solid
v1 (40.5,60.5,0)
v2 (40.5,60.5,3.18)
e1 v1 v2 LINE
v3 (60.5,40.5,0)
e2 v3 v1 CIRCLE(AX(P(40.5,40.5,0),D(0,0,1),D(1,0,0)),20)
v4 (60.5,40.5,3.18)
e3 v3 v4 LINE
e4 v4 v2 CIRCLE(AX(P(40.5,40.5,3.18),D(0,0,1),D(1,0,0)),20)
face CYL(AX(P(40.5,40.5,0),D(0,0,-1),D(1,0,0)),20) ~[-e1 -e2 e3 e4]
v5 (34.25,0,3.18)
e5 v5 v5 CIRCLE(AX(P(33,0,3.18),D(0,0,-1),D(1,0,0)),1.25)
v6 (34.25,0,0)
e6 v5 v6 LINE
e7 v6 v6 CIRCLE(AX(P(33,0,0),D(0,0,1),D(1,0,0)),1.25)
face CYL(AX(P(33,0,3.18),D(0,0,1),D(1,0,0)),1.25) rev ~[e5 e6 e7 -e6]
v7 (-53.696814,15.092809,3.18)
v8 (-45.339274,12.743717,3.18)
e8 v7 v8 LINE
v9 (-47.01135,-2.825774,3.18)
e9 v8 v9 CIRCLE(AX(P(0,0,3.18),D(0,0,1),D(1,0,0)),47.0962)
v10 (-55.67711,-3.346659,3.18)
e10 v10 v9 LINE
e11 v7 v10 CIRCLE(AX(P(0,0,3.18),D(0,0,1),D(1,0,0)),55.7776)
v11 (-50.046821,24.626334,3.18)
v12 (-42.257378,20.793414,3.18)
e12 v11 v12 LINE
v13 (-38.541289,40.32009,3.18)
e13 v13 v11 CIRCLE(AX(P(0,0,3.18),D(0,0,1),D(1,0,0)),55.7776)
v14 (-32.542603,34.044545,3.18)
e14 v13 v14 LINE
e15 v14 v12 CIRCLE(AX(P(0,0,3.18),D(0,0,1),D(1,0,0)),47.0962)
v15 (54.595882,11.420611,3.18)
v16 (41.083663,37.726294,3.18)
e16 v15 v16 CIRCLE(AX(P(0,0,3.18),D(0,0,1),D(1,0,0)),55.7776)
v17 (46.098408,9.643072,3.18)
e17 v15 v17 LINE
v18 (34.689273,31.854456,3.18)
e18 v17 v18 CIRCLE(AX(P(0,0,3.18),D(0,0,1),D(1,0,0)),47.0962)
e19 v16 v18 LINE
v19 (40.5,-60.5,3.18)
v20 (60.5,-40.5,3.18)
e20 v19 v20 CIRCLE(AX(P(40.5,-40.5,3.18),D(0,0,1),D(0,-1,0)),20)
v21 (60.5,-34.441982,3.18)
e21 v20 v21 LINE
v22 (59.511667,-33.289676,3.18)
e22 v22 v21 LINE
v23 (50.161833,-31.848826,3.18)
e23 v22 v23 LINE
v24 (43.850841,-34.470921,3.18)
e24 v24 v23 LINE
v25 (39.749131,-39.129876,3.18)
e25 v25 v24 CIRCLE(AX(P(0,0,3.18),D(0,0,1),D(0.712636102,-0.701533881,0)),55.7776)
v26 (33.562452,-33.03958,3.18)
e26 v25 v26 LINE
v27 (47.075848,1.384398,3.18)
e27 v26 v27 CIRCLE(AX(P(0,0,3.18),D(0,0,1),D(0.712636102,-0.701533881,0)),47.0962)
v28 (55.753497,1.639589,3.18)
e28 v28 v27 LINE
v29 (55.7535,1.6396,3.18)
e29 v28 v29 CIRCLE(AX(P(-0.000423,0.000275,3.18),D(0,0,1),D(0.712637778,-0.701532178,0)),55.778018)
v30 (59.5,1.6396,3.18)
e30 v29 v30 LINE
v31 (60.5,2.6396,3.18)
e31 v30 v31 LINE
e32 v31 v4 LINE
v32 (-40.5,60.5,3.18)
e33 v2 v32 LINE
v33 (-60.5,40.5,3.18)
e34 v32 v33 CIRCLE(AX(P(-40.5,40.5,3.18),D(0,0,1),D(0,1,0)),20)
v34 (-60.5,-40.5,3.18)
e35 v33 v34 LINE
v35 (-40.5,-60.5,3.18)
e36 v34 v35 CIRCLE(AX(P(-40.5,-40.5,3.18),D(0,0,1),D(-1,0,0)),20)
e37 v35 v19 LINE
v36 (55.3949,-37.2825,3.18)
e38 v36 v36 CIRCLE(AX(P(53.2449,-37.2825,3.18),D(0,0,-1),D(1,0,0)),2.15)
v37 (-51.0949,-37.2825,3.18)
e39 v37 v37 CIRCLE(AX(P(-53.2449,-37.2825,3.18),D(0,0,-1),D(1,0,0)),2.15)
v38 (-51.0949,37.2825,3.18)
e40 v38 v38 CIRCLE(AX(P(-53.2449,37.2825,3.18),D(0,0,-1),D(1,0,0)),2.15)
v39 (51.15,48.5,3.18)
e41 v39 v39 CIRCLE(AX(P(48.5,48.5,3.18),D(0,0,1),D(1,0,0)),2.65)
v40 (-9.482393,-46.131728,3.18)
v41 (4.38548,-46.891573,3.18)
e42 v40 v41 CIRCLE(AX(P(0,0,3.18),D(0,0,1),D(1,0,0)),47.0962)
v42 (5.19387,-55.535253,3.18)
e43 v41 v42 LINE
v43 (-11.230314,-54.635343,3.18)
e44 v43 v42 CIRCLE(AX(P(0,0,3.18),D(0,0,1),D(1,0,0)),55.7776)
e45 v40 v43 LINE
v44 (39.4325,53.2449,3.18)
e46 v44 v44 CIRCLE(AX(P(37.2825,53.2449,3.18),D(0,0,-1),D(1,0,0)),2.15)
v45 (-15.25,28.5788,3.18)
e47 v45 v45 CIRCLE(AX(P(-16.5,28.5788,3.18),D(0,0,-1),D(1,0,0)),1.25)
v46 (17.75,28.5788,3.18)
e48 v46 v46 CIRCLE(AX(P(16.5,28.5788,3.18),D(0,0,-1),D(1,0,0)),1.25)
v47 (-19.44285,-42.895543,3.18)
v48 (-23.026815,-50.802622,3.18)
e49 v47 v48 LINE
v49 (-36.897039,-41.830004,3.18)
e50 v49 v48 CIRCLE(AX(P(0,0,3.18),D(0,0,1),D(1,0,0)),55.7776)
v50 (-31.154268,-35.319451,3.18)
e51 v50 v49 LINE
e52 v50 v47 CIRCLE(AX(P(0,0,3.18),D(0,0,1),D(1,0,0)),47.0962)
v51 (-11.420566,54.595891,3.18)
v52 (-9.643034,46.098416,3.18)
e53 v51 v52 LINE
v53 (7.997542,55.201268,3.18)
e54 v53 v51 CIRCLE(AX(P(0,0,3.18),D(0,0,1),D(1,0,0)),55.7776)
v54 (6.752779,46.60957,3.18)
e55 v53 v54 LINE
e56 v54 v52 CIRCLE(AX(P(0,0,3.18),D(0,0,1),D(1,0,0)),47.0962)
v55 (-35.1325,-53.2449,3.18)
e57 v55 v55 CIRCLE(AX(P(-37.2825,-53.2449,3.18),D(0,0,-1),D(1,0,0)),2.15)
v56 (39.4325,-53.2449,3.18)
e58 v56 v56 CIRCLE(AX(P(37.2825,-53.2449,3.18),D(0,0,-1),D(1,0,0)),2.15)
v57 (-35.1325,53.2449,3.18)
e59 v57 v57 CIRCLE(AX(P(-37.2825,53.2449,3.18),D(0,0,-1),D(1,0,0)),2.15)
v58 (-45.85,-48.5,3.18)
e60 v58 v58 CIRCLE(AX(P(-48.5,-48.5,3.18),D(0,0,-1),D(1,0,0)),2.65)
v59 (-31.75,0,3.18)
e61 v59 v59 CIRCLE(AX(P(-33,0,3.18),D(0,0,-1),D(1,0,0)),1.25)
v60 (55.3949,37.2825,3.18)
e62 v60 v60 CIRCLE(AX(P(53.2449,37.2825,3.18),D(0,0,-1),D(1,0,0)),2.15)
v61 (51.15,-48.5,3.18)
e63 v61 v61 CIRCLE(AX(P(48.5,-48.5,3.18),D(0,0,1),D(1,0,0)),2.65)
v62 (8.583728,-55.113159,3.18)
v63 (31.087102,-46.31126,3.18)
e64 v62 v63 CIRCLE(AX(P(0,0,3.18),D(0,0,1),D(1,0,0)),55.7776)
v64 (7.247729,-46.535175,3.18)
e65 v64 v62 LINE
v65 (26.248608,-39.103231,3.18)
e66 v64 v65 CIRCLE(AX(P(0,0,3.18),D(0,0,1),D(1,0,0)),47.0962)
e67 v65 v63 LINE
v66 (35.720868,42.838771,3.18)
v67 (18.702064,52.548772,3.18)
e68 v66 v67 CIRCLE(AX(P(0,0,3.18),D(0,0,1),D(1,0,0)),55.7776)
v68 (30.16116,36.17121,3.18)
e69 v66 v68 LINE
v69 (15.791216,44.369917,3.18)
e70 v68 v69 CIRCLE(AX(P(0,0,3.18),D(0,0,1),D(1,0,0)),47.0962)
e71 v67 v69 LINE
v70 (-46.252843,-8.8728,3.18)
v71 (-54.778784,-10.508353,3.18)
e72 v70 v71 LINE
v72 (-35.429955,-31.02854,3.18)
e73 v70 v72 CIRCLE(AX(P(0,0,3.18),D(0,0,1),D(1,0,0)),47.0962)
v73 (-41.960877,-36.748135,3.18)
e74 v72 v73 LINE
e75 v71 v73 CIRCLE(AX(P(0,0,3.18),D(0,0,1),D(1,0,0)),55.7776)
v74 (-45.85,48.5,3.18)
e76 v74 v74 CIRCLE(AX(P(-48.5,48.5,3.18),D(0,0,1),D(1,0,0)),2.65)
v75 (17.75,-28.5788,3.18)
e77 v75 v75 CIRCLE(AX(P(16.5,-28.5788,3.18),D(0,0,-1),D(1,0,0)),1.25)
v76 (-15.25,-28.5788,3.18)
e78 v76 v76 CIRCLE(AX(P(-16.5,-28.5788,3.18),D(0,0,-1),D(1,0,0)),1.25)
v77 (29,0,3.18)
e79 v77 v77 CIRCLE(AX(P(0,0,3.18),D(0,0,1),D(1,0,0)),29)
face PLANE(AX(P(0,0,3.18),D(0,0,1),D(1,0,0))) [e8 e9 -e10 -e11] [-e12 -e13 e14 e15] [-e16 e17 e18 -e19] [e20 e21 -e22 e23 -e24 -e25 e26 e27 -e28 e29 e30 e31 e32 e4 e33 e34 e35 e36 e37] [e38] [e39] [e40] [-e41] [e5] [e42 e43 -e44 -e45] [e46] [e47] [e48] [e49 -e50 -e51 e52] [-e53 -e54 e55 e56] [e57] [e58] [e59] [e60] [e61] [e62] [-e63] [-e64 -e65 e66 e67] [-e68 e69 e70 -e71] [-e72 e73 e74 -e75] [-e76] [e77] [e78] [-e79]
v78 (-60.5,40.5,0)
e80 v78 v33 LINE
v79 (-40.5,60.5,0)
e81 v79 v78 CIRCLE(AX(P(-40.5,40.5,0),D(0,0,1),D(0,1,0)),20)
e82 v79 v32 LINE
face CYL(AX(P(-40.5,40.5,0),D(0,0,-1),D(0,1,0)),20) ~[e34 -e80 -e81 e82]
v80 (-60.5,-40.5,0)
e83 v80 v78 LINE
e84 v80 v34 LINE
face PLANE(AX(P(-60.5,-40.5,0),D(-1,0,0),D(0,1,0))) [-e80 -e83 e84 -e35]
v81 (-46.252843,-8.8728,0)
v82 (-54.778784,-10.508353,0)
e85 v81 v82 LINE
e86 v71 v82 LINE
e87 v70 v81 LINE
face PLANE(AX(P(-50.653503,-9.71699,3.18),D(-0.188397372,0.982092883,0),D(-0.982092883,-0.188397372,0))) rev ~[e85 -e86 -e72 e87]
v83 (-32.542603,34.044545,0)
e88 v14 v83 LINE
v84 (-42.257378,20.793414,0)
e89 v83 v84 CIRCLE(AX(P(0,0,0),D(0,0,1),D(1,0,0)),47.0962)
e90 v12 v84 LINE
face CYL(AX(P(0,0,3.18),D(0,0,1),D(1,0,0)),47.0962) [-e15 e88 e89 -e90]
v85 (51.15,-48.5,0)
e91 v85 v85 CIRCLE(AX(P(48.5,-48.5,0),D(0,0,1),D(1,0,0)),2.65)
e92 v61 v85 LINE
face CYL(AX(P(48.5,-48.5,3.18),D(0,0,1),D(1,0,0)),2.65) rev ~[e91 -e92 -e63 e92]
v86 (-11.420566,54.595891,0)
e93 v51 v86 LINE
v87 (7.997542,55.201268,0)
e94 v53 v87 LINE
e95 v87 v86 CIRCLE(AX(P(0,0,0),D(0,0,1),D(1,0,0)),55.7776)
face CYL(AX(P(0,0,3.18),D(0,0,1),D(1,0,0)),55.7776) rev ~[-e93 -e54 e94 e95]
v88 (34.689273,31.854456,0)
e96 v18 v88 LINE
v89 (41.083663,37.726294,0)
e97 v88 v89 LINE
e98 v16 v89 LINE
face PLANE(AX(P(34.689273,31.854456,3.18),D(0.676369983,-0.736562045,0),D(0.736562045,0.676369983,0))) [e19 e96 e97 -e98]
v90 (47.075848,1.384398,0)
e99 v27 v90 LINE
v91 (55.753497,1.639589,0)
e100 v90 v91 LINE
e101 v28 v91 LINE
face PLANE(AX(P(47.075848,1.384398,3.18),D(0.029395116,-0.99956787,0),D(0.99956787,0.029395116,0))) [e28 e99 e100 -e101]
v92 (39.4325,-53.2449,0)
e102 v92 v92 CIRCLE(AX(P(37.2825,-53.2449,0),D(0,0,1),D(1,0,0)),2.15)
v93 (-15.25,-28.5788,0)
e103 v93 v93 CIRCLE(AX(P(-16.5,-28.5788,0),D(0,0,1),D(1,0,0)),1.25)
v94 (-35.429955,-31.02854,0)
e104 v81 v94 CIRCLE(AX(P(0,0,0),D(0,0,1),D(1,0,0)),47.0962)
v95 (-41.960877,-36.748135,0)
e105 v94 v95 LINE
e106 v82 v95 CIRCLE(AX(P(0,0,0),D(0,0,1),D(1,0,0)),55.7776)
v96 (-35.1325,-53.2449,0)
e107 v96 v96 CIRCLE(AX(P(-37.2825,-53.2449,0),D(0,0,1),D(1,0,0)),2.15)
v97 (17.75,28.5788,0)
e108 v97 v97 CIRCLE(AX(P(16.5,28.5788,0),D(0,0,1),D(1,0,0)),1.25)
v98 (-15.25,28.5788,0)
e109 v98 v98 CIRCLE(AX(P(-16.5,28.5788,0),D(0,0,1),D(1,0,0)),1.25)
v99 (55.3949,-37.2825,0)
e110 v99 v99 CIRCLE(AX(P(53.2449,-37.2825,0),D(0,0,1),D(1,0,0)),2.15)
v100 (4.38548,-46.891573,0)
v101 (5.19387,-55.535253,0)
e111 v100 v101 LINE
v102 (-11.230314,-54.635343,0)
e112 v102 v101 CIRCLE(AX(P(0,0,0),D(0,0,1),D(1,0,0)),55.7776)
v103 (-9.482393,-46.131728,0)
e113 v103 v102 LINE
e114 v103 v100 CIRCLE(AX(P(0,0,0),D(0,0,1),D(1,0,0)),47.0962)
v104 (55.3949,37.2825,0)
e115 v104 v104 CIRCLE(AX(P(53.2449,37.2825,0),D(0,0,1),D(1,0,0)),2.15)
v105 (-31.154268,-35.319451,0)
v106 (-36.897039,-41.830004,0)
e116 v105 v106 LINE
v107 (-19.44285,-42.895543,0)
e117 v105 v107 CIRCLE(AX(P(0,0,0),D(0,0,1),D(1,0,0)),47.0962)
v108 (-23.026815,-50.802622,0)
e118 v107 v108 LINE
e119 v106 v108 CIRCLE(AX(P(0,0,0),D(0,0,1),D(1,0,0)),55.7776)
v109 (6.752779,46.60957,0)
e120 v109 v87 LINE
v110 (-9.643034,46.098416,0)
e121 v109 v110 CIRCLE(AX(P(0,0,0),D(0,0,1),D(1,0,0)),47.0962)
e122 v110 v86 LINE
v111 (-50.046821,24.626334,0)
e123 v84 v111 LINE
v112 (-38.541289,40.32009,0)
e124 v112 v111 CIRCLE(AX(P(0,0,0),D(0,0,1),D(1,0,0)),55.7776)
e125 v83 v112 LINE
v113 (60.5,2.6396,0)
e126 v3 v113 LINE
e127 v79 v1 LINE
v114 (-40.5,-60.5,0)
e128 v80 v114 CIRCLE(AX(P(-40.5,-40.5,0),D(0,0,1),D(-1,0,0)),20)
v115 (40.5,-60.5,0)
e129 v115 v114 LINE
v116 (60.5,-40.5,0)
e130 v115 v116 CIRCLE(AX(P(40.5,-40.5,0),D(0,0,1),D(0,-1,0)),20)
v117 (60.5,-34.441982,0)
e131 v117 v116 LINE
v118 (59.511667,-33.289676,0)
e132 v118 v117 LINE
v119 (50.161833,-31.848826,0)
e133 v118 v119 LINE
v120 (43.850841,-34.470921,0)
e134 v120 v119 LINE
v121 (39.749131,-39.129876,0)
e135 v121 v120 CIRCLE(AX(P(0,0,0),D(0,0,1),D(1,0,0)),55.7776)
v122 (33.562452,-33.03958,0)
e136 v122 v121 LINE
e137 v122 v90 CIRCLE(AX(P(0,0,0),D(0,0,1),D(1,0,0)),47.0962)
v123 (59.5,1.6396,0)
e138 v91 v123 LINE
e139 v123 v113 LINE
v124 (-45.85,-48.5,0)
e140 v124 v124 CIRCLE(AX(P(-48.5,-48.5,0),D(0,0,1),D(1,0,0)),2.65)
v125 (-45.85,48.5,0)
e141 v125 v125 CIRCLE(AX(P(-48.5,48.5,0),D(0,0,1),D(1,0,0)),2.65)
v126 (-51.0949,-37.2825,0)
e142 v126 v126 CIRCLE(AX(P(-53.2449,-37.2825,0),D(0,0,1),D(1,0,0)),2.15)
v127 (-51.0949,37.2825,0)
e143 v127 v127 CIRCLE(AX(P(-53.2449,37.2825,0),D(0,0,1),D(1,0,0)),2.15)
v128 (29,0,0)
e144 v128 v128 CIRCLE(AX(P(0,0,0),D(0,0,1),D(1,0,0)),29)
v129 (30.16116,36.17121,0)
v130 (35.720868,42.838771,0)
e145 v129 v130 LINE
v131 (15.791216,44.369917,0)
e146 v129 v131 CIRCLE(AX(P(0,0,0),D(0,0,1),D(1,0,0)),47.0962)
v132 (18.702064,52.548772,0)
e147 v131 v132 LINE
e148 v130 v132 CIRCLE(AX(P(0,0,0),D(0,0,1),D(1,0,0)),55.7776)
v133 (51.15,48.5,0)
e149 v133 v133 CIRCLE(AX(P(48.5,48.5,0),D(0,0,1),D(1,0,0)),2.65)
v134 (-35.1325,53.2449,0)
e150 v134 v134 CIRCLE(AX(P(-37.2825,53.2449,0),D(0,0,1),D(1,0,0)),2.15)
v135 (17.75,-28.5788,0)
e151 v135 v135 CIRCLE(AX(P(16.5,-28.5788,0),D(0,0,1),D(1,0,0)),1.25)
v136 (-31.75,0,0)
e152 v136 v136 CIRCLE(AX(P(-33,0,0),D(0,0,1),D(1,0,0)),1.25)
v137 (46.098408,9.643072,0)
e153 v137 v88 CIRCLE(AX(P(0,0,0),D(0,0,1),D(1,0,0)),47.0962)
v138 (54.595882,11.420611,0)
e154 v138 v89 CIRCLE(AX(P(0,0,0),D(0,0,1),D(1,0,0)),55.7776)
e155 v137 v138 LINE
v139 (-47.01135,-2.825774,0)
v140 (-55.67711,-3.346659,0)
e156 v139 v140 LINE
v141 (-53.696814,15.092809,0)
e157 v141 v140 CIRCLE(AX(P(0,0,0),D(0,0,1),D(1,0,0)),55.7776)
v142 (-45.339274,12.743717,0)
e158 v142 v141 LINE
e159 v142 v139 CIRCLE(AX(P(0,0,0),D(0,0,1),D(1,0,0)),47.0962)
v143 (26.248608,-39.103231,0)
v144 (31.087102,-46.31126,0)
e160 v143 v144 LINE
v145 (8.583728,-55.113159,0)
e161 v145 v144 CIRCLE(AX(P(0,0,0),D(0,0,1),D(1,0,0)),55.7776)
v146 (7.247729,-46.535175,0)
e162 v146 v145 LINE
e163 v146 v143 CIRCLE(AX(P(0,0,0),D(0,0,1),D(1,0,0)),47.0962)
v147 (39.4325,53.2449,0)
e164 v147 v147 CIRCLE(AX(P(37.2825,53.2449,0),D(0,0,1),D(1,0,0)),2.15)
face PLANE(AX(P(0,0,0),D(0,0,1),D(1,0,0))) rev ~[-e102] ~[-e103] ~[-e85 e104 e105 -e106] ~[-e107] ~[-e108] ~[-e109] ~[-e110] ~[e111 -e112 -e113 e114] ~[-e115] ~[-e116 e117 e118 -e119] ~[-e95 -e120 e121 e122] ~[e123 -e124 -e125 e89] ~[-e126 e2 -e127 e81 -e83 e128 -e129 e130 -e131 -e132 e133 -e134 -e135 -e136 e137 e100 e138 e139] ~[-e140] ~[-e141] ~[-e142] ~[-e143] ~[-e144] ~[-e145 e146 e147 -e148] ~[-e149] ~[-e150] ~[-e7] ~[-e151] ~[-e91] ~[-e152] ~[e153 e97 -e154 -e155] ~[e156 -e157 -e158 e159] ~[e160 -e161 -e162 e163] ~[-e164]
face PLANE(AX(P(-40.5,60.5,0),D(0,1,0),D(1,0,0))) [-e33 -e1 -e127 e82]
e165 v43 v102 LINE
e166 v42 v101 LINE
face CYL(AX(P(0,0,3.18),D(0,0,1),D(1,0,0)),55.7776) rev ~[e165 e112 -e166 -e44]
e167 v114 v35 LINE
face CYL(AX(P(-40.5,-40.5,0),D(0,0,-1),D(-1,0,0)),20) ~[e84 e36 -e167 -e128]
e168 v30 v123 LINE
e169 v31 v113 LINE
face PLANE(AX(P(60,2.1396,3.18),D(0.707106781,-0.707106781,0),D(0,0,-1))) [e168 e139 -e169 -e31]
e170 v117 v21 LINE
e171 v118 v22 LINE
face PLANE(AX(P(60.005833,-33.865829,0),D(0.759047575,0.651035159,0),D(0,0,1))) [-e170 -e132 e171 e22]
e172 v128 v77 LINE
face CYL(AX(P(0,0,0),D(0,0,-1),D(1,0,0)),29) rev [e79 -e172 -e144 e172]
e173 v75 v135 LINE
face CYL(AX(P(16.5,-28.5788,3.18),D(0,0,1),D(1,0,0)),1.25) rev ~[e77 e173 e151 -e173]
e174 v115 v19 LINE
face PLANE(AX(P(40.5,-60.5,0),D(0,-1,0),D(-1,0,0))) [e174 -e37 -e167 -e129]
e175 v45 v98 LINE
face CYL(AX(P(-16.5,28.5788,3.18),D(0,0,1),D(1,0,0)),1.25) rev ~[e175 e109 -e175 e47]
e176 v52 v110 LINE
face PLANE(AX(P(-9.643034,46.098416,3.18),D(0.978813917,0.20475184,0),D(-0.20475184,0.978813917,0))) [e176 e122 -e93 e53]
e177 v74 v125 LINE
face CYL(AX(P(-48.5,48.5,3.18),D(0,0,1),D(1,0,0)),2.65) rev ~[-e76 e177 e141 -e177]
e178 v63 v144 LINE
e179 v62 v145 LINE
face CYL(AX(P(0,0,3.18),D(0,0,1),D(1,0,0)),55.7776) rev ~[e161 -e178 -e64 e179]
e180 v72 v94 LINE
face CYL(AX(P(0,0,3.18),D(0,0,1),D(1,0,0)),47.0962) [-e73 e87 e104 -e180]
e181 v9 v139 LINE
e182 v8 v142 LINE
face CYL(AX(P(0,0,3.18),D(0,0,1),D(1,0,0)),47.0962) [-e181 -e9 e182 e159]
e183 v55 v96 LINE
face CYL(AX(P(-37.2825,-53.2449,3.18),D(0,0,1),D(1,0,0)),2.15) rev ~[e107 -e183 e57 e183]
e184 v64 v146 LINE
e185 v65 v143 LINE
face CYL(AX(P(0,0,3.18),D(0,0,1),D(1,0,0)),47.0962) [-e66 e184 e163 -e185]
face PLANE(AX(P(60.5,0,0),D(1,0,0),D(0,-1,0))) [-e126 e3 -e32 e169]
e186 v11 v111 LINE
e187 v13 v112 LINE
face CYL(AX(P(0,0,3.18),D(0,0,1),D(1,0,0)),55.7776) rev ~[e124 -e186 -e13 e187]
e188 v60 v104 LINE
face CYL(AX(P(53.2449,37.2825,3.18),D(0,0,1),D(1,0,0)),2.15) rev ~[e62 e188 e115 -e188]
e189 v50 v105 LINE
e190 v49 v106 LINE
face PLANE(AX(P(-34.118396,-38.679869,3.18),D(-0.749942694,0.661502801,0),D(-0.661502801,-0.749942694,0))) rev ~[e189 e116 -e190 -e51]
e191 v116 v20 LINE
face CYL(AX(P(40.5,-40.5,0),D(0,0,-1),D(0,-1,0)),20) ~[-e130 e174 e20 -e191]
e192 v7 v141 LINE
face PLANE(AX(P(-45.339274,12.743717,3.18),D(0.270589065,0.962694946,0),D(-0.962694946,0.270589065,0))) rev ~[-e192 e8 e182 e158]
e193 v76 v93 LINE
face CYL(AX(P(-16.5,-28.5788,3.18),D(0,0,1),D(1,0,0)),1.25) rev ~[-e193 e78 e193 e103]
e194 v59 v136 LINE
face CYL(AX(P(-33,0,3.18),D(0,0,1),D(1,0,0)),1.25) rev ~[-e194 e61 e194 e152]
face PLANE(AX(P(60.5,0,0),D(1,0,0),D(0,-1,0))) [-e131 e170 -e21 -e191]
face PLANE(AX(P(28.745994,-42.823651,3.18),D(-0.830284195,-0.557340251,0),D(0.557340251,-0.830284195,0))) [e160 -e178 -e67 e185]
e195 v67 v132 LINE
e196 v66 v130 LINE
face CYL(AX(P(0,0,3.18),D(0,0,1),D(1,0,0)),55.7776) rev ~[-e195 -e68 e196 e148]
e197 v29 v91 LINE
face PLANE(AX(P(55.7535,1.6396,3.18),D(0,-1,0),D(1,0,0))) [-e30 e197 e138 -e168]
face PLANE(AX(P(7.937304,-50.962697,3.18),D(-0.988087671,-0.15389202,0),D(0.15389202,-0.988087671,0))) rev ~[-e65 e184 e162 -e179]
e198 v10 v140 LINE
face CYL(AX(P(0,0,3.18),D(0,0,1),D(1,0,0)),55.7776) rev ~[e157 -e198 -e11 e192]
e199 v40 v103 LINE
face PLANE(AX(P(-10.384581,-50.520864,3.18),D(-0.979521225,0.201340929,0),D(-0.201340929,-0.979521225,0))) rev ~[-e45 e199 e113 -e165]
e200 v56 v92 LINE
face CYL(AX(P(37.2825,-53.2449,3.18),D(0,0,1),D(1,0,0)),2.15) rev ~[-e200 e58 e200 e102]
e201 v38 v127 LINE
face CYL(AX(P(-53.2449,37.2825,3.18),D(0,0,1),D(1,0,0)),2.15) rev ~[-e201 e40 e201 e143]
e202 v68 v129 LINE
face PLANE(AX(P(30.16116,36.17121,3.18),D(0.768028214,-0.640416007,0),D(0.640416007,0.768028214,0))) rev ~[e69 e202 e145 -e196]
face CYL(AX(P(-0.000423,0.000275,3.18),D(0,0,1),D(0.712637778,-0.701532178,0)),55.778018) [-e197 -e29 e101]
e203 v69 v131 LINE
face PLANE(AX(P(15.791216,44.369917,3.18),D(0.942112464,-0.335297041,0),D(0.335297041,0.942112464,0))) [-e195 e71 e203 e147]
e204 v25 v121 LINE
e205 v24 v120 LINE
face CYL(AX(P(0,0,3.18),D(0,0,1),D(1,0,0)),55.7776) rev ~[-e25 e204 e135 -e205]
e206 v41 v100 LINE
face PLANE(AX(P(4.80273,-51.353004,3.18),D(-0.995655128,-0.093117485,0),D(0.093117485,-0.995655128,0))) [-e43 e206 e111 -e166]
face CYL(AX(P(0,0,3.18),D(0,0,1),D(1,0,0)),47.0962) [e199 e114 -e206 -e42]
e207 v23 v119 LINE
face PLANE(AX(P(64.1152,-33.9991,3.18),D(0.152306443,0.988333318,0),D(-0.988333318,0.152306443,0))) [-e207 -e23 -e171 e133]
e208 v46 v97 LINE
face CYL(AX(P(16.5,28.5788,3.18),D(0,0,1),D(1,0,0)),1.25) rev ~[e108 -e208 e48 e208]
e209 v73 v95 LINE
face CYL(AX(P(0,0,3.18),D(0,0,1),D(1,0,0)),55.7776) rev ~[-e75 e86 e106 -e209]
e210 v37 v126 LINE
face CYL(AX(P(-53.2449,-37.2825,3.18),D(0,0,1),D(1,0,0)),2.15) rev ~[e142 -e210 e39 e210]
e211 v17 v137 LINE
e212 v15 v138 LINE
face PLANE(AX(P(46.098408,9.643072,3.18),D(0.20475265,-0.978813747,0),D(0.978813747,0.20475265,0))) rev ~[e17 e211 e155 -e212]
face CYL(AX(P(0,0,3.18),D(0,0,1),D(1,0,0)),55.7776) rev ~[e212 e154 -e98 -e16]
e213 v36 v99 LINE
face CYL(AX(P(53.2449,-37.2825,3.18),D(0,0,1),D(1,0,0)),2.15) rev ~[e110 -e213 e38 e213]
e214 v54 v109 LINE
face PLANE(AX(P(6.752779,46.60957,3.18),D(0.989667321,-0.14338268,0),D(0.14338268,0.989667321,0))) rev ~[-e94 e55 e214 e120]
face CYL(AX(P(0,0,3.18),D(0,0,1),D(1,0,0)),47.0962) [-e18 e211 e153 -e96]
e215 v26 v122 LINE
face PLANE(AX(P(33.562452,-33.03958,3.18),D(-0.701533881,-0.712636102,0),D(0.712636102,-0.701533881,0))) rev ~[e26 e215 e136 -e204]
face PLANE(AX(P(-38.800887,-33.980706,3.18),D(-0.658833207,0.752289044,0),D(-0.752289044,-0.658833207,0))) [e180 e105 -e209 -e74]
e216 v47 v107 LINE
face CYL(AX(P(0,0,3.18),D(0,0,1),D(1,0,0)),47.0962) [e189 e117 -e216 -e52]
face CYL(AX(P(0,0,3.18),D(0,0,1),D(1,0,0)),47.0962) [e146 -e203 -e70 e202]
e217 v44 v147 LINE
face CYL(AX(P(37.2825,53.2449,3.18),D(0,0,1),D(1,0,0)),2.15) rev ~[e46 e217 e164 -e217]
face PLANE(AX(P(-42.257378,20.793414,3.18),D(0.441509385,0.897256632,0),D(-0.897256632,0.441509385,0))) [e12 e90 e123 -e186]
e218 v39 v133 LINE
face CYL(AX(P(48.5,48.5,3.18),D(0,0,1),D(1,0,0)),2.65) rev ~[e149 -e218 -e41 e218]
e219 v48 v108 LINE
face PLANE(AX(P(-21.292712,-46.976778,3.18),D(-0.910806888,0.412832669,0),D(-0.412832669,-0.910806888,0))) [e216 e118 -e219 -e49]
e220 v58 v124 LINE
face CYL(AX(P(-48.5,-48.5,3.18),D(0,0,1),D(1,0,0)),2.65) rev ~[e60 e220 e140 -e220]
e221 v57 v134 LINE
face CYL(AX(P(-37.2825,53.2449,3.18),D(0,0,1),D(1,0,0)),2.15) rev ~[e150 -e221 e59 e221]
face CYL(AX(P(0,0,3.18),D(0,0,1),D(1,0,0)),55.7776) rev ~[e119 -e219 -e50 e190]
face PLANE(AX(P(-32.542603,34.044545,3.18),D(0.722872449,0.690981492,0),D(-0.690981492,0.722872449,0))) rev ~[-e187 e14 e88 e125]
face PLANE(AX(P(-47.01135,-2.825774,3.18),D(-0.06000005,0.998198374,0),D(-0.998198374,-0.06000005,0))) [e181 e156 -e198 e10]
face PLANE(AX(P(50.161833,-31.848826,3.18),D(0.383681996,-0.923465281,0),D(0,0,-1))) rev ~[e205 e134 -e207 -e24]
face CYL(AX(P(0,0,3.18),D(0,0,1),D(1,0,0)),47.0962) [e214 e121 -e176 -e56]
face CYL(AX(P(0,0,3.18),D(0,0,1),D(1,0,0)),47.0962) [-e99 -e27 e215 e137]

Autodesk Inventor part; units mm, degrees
ref_plane "YZ Plane" through (0, 0, 0) normal (1, 0, 0) x (0, 1, 0)
ref_plane "XZ Plane" through (0, 0, 0) normal (0, 1, 0) x (-1, 0, 0)
ref_plane "XY Plane" through (0, 0, 0) normal (0, 0, 1) x (1, 0, 0)
sketch "Sketch1" plane through (0, 0, 0) normal (0, 0, 1) x (1, 0, 0)
  circle A0 centre (0, 0) radius 29
  circle A1 centre (0, 0) radius 60.5
  line L0 (-40.5, 60.5) -> (40.5, 60.5)
  line L1 (60.5, 40.5) -> (60.5, -40.5)
  line L2 (40.5, -60.5) -> (-40.5, -60.5)
  line L3 (-60.5, -40.5) -> (-60.5, 40.5)
  arc A2 (-40.5, 60.5) -> (-60.5, 40.5) centre (-40.5, 40.5) ccw
  arc A3 (60.5, 40.5) -> (40.5, 60.5) centre (40.5, 40.5) ccw
  arc A4 (40.5, -60.5) -> (60.5, -40.5) centre (40.5, -40.5) ccw
  arc A5 (-60.5, -40.5) -> (-40.5, -60.5) centre (-40.5, -40.5) ccw
  dimension "d0" = 58
  dimension "d1" = 121
  dimension "d2" = 20
extrude "Extrusion1" add sketch "Sketch1" along normal blind 3.18
sketch "Sketch4" plane through (0, 0, 3.18) normal (0, 0, 1) x (1, 0, 0)
  circle A0 centre (0, 0) radius 51.5771
  circle A1 centre (0, 0) radius 43.9861
  circle A2 centre (0, 0) radius 55.7776
  circle A3 centre (0, 0) radius 47.0962
  circle A4 centre (0, 0) radius 42.5777
  circle A5 centre (0, 0) radius 45.3862
  line L0 (0, 0) -> (8.4363, 58.2297)
  line L1 (0, 0) -> (-12.4381, 59.4602)
  line L2 (0, 0) -> (20.1214, 56.5368)
  line L3 (0, 0) -> (38.2622, 45.8865)
  line L4 (0, 0) -> (43.6183, 40.0538)
  line L5 (0, 0) -> (57.1725, 11.9596)
  line L6 (0, 0) -> (57.4745, 1.6902)
  line L7 (0, 0) -> (41.5878, -40.9399)
  line L8 (0, 0) -> (-40.6993, 42.5777)
  line L9 (0, 0) -> (-51.5874, 25.3844)
  line L10 (0, 0) -> (-57.9992, 16.3021)
  line L11 (0, 0) -> (-60.0133, -3.6073)
  line L12 (0, 0) -> (-59.5436, -11.4224)
  line L13 (0, 0) -> (-44.1098, -38.6301)
  line L14 (0, 0) -> (-38.6281, -43.7925)
  line L15 (0, 0) -> (-24.369, -53.7638)
  line L16 (0, 0) -> (-11.9508, -58.1405)
  line L17 (0, 0) -> (5.5489, -59.3314)
  line L18 (0, 0) -> (37.2684, -55.5197)
  line L19 (0, 0) -> (10.7128, -68.7832)
  point P0 (-50.0468, 24.6263)
  point P1 (-42.2573, 20.7934)
  point P2 (-32.5426, 34.0445)
  point P3 (-38.5413, 40.3201)
  point P4 (-55.6771, -3.3466)
  point P5 (-47.0113, -2.8257)
  point P6 (-45.3392, 12.7437)
  point P7 (-53.6968, 15.0928)
  point P8 (-41.9609, -36.7481)
  point P9 (-35.4299, -31.0285)
  point P10 (-46.2528, -8.8728)
  point P11 (-54.7788, -10.5083)
  point P12 (-23.0268, -50.8026)
  point P13 (-19.4428, -42.8955)
  point P14 (-31.1542, -35.3194)
  point P15 (-36.897, -41.83)
  point P16 (5.1939, -55.5352)
  point P17 (4.3855, -46.8915)
  point P18 (-9.4824, -46.1317)
  point P19 (-11.2303, -54.6353)
  point P20 (8.5837, -55.1131)
  point P21 (31.0871, -46.3113)
  point P22 (26.2486, -39.1032)
  point P23 (7.2477, -46.5351)
  point P24 (33.5624, -33.0395)
  point P25 (39.7491, -39.1298)
  point P26 (55.7535, 1.6396)
  point P27 (47.0758, 1.3844)
  point P28 (46.0984, 9.6431)
  point P29 (54.5959, 11.4206)
  point P30 (41.0837, 37.7263)
  point P31 (34.6892, 31.8544)
  point P32 (30.1611, 36.1712)
  point P33 (35.7209, 42.8387)
  point P34 (18.702, 52.5488)
  point P35 (15.7912, 44.3699)
  point P36 (7.9975, 55.2013)
  point P37 (-11.4206, 54.5959)
  point P38 (-9.6431, 46.0984)
  point P39 (6.7528, 46.6095)
  dimension "d76" = 103.1542
  dimension "d78" = 94.1923
extrude "Extrusion4" cut sketch "Sketch4" against normal through all contours A0 L7 A3 L6 | A0 L6 A2 L7 | L5 A3 L4 A0 | A0 L4 A2 L5 | L18 A2 L19 A0 | A0 L19 A3 L18 | L3 A3 L2 A0 | A0 L2 A2 L3 | L17 A2 L16 A0 | A0 L16 A3 L17 | L0 A3 L1 A0 | A0 L1 A2 L0 | L15 A2 L14 A0 | A0 L14 A3 L15 | L8 A3 L9 A0 | A0 L9 A2 L8 | L13 A2 L12 A0 | A0 L12 A3 L13 | L10 A3 L11 A0 | A0 L11 A2 L10
sketch "Sketch5" plane through (0, 0, 3.18) normal (0, 0, 1) x (1, 0, 0)
  circle A0 centre (-48.5, -48.5) radius 2.65
  circle A1 centre (-48.5, 48.5) radius 2.65
  circle A2 centre (48.5, -48.5) radius 2.65
  circle A3 centre (48.5, 48.5) radius 2.65
  circle A4 centre (0, 0) radius 29 projected
  circle A5 centre (0, 0) radius 33
  circle A6 centre (-33, 0) radius 1.25
  circle A7 centre (-16.5, -28.5788) radius 1.25
  circle A8 centre (16.5, -28.5788) radius 1.25
  circle A9 centre (33, 0) radius 1.25
  circle A10 centre (0, 0) radius 65
  line L0 (0, 0) -> (-48.5, -48.5)
  line L1 (0, 0) -> (-46.4652, -66.3592)
  line L2 (0, 0) -> (-57.2887, -40.114)
  circle A11 centre (-37.2825, -53.2449) radius 2.15
  circle A12 centre (-53.2449, -37.2825) radius 2.15
  circle A13 centre (53.2449, -37.2825) radius 2.15
  circle A14 centre (37.2825, -53.2449) radius 2.15
  circle A15 centre (37.2825, 53.2449) radius 2.15
  circle A16 centre (53.2449, 37.2825) radius 2.15
  circle A17 centre (-53.2449, 37.2825) radius 2.15
  circle A18 centre (-37.2825, 53.2449) radius 2.15
  circle A19 centre (16.5, 28.5788) radius 1.25
  circle A20 centre (-16.5, 28.5788) radius 1.25
  dimension "d61" = 66
  dimension "d57" = 5.3
  dimension "d58" = 5.3
  dimension "d59" = 5.3
  dimension "d60" = 5.3
  dimension "d62" = 2.5
  dimension "d65" = 360
  dimension "d67" = 130
  dimension "d68" = 10
  dimension "d69" = 10
  dimension "d70" = 4.3
  dimension "d71" = 4.3
  dimension "d74" = 360
extrude "Extrusion5" cut sketch "Sketch5" against normal through all contours A0 | A12 L2 A10 | A10 L2 A12 | A11 L1 A10 | A10 L1 A11 | L2 A12 A10 | A10 A12 L2 | L1 A11 A10 | A10 A11 L1 | A6 A5 | A5 A6 | A7 A5 | A5 A7 | A17 A10 | A10 A17 | A14 A10 | A10 A14 | A20 A5 | A5 A20 | A8 A5 | A5 A8 | A18 A10 | A10 A18 | A13 A10 | A10 A13 | A19 A5 | A5 A19 | A9 A5 | A5 A9 | A15 A10 | A10 A15 | A16 A10 | A10 A16 | A1 | A2 | A3
sketch "Sketch6" plane through (0, 0, 3.18) normal (0, 0, 1) x (1, 0, 0)
  arc A0 (39.7491, -39.1298) -> (55.7535, 1.6396) centre (0, 0) ccw projected
  line L0 (64.1152, -33.9991) -> (64.1152, 1.6396)
  line L1 (55.7535, 1.6396) -> (64.1152, 1.6396)
  line L2 (64.1152, -33.9991) -> (46.2085, -31.2396)
  point P0 (47.5954, -29.0829)
  point P1 (55.585, -4.6304)
extrude "Extrusion6" cut sketch "Sketch6" against normal through all
chamfer "Chamfer2" distance 4 angle 45 1 edges at (46.2085, -31.2396, 1.59)
chamfer "Chamfer3" distance 1 angle 45 2 edges at (60.5, 1.6396, 1.59) (60.5, -33.4419, 1.59)
equation "\"d58\" = d57"
equation "\"d59\" = d57"
equation "\"d60\" = d57"
equation "\"d69\" = d68"
properties part number "stator_mount_01_alu"
